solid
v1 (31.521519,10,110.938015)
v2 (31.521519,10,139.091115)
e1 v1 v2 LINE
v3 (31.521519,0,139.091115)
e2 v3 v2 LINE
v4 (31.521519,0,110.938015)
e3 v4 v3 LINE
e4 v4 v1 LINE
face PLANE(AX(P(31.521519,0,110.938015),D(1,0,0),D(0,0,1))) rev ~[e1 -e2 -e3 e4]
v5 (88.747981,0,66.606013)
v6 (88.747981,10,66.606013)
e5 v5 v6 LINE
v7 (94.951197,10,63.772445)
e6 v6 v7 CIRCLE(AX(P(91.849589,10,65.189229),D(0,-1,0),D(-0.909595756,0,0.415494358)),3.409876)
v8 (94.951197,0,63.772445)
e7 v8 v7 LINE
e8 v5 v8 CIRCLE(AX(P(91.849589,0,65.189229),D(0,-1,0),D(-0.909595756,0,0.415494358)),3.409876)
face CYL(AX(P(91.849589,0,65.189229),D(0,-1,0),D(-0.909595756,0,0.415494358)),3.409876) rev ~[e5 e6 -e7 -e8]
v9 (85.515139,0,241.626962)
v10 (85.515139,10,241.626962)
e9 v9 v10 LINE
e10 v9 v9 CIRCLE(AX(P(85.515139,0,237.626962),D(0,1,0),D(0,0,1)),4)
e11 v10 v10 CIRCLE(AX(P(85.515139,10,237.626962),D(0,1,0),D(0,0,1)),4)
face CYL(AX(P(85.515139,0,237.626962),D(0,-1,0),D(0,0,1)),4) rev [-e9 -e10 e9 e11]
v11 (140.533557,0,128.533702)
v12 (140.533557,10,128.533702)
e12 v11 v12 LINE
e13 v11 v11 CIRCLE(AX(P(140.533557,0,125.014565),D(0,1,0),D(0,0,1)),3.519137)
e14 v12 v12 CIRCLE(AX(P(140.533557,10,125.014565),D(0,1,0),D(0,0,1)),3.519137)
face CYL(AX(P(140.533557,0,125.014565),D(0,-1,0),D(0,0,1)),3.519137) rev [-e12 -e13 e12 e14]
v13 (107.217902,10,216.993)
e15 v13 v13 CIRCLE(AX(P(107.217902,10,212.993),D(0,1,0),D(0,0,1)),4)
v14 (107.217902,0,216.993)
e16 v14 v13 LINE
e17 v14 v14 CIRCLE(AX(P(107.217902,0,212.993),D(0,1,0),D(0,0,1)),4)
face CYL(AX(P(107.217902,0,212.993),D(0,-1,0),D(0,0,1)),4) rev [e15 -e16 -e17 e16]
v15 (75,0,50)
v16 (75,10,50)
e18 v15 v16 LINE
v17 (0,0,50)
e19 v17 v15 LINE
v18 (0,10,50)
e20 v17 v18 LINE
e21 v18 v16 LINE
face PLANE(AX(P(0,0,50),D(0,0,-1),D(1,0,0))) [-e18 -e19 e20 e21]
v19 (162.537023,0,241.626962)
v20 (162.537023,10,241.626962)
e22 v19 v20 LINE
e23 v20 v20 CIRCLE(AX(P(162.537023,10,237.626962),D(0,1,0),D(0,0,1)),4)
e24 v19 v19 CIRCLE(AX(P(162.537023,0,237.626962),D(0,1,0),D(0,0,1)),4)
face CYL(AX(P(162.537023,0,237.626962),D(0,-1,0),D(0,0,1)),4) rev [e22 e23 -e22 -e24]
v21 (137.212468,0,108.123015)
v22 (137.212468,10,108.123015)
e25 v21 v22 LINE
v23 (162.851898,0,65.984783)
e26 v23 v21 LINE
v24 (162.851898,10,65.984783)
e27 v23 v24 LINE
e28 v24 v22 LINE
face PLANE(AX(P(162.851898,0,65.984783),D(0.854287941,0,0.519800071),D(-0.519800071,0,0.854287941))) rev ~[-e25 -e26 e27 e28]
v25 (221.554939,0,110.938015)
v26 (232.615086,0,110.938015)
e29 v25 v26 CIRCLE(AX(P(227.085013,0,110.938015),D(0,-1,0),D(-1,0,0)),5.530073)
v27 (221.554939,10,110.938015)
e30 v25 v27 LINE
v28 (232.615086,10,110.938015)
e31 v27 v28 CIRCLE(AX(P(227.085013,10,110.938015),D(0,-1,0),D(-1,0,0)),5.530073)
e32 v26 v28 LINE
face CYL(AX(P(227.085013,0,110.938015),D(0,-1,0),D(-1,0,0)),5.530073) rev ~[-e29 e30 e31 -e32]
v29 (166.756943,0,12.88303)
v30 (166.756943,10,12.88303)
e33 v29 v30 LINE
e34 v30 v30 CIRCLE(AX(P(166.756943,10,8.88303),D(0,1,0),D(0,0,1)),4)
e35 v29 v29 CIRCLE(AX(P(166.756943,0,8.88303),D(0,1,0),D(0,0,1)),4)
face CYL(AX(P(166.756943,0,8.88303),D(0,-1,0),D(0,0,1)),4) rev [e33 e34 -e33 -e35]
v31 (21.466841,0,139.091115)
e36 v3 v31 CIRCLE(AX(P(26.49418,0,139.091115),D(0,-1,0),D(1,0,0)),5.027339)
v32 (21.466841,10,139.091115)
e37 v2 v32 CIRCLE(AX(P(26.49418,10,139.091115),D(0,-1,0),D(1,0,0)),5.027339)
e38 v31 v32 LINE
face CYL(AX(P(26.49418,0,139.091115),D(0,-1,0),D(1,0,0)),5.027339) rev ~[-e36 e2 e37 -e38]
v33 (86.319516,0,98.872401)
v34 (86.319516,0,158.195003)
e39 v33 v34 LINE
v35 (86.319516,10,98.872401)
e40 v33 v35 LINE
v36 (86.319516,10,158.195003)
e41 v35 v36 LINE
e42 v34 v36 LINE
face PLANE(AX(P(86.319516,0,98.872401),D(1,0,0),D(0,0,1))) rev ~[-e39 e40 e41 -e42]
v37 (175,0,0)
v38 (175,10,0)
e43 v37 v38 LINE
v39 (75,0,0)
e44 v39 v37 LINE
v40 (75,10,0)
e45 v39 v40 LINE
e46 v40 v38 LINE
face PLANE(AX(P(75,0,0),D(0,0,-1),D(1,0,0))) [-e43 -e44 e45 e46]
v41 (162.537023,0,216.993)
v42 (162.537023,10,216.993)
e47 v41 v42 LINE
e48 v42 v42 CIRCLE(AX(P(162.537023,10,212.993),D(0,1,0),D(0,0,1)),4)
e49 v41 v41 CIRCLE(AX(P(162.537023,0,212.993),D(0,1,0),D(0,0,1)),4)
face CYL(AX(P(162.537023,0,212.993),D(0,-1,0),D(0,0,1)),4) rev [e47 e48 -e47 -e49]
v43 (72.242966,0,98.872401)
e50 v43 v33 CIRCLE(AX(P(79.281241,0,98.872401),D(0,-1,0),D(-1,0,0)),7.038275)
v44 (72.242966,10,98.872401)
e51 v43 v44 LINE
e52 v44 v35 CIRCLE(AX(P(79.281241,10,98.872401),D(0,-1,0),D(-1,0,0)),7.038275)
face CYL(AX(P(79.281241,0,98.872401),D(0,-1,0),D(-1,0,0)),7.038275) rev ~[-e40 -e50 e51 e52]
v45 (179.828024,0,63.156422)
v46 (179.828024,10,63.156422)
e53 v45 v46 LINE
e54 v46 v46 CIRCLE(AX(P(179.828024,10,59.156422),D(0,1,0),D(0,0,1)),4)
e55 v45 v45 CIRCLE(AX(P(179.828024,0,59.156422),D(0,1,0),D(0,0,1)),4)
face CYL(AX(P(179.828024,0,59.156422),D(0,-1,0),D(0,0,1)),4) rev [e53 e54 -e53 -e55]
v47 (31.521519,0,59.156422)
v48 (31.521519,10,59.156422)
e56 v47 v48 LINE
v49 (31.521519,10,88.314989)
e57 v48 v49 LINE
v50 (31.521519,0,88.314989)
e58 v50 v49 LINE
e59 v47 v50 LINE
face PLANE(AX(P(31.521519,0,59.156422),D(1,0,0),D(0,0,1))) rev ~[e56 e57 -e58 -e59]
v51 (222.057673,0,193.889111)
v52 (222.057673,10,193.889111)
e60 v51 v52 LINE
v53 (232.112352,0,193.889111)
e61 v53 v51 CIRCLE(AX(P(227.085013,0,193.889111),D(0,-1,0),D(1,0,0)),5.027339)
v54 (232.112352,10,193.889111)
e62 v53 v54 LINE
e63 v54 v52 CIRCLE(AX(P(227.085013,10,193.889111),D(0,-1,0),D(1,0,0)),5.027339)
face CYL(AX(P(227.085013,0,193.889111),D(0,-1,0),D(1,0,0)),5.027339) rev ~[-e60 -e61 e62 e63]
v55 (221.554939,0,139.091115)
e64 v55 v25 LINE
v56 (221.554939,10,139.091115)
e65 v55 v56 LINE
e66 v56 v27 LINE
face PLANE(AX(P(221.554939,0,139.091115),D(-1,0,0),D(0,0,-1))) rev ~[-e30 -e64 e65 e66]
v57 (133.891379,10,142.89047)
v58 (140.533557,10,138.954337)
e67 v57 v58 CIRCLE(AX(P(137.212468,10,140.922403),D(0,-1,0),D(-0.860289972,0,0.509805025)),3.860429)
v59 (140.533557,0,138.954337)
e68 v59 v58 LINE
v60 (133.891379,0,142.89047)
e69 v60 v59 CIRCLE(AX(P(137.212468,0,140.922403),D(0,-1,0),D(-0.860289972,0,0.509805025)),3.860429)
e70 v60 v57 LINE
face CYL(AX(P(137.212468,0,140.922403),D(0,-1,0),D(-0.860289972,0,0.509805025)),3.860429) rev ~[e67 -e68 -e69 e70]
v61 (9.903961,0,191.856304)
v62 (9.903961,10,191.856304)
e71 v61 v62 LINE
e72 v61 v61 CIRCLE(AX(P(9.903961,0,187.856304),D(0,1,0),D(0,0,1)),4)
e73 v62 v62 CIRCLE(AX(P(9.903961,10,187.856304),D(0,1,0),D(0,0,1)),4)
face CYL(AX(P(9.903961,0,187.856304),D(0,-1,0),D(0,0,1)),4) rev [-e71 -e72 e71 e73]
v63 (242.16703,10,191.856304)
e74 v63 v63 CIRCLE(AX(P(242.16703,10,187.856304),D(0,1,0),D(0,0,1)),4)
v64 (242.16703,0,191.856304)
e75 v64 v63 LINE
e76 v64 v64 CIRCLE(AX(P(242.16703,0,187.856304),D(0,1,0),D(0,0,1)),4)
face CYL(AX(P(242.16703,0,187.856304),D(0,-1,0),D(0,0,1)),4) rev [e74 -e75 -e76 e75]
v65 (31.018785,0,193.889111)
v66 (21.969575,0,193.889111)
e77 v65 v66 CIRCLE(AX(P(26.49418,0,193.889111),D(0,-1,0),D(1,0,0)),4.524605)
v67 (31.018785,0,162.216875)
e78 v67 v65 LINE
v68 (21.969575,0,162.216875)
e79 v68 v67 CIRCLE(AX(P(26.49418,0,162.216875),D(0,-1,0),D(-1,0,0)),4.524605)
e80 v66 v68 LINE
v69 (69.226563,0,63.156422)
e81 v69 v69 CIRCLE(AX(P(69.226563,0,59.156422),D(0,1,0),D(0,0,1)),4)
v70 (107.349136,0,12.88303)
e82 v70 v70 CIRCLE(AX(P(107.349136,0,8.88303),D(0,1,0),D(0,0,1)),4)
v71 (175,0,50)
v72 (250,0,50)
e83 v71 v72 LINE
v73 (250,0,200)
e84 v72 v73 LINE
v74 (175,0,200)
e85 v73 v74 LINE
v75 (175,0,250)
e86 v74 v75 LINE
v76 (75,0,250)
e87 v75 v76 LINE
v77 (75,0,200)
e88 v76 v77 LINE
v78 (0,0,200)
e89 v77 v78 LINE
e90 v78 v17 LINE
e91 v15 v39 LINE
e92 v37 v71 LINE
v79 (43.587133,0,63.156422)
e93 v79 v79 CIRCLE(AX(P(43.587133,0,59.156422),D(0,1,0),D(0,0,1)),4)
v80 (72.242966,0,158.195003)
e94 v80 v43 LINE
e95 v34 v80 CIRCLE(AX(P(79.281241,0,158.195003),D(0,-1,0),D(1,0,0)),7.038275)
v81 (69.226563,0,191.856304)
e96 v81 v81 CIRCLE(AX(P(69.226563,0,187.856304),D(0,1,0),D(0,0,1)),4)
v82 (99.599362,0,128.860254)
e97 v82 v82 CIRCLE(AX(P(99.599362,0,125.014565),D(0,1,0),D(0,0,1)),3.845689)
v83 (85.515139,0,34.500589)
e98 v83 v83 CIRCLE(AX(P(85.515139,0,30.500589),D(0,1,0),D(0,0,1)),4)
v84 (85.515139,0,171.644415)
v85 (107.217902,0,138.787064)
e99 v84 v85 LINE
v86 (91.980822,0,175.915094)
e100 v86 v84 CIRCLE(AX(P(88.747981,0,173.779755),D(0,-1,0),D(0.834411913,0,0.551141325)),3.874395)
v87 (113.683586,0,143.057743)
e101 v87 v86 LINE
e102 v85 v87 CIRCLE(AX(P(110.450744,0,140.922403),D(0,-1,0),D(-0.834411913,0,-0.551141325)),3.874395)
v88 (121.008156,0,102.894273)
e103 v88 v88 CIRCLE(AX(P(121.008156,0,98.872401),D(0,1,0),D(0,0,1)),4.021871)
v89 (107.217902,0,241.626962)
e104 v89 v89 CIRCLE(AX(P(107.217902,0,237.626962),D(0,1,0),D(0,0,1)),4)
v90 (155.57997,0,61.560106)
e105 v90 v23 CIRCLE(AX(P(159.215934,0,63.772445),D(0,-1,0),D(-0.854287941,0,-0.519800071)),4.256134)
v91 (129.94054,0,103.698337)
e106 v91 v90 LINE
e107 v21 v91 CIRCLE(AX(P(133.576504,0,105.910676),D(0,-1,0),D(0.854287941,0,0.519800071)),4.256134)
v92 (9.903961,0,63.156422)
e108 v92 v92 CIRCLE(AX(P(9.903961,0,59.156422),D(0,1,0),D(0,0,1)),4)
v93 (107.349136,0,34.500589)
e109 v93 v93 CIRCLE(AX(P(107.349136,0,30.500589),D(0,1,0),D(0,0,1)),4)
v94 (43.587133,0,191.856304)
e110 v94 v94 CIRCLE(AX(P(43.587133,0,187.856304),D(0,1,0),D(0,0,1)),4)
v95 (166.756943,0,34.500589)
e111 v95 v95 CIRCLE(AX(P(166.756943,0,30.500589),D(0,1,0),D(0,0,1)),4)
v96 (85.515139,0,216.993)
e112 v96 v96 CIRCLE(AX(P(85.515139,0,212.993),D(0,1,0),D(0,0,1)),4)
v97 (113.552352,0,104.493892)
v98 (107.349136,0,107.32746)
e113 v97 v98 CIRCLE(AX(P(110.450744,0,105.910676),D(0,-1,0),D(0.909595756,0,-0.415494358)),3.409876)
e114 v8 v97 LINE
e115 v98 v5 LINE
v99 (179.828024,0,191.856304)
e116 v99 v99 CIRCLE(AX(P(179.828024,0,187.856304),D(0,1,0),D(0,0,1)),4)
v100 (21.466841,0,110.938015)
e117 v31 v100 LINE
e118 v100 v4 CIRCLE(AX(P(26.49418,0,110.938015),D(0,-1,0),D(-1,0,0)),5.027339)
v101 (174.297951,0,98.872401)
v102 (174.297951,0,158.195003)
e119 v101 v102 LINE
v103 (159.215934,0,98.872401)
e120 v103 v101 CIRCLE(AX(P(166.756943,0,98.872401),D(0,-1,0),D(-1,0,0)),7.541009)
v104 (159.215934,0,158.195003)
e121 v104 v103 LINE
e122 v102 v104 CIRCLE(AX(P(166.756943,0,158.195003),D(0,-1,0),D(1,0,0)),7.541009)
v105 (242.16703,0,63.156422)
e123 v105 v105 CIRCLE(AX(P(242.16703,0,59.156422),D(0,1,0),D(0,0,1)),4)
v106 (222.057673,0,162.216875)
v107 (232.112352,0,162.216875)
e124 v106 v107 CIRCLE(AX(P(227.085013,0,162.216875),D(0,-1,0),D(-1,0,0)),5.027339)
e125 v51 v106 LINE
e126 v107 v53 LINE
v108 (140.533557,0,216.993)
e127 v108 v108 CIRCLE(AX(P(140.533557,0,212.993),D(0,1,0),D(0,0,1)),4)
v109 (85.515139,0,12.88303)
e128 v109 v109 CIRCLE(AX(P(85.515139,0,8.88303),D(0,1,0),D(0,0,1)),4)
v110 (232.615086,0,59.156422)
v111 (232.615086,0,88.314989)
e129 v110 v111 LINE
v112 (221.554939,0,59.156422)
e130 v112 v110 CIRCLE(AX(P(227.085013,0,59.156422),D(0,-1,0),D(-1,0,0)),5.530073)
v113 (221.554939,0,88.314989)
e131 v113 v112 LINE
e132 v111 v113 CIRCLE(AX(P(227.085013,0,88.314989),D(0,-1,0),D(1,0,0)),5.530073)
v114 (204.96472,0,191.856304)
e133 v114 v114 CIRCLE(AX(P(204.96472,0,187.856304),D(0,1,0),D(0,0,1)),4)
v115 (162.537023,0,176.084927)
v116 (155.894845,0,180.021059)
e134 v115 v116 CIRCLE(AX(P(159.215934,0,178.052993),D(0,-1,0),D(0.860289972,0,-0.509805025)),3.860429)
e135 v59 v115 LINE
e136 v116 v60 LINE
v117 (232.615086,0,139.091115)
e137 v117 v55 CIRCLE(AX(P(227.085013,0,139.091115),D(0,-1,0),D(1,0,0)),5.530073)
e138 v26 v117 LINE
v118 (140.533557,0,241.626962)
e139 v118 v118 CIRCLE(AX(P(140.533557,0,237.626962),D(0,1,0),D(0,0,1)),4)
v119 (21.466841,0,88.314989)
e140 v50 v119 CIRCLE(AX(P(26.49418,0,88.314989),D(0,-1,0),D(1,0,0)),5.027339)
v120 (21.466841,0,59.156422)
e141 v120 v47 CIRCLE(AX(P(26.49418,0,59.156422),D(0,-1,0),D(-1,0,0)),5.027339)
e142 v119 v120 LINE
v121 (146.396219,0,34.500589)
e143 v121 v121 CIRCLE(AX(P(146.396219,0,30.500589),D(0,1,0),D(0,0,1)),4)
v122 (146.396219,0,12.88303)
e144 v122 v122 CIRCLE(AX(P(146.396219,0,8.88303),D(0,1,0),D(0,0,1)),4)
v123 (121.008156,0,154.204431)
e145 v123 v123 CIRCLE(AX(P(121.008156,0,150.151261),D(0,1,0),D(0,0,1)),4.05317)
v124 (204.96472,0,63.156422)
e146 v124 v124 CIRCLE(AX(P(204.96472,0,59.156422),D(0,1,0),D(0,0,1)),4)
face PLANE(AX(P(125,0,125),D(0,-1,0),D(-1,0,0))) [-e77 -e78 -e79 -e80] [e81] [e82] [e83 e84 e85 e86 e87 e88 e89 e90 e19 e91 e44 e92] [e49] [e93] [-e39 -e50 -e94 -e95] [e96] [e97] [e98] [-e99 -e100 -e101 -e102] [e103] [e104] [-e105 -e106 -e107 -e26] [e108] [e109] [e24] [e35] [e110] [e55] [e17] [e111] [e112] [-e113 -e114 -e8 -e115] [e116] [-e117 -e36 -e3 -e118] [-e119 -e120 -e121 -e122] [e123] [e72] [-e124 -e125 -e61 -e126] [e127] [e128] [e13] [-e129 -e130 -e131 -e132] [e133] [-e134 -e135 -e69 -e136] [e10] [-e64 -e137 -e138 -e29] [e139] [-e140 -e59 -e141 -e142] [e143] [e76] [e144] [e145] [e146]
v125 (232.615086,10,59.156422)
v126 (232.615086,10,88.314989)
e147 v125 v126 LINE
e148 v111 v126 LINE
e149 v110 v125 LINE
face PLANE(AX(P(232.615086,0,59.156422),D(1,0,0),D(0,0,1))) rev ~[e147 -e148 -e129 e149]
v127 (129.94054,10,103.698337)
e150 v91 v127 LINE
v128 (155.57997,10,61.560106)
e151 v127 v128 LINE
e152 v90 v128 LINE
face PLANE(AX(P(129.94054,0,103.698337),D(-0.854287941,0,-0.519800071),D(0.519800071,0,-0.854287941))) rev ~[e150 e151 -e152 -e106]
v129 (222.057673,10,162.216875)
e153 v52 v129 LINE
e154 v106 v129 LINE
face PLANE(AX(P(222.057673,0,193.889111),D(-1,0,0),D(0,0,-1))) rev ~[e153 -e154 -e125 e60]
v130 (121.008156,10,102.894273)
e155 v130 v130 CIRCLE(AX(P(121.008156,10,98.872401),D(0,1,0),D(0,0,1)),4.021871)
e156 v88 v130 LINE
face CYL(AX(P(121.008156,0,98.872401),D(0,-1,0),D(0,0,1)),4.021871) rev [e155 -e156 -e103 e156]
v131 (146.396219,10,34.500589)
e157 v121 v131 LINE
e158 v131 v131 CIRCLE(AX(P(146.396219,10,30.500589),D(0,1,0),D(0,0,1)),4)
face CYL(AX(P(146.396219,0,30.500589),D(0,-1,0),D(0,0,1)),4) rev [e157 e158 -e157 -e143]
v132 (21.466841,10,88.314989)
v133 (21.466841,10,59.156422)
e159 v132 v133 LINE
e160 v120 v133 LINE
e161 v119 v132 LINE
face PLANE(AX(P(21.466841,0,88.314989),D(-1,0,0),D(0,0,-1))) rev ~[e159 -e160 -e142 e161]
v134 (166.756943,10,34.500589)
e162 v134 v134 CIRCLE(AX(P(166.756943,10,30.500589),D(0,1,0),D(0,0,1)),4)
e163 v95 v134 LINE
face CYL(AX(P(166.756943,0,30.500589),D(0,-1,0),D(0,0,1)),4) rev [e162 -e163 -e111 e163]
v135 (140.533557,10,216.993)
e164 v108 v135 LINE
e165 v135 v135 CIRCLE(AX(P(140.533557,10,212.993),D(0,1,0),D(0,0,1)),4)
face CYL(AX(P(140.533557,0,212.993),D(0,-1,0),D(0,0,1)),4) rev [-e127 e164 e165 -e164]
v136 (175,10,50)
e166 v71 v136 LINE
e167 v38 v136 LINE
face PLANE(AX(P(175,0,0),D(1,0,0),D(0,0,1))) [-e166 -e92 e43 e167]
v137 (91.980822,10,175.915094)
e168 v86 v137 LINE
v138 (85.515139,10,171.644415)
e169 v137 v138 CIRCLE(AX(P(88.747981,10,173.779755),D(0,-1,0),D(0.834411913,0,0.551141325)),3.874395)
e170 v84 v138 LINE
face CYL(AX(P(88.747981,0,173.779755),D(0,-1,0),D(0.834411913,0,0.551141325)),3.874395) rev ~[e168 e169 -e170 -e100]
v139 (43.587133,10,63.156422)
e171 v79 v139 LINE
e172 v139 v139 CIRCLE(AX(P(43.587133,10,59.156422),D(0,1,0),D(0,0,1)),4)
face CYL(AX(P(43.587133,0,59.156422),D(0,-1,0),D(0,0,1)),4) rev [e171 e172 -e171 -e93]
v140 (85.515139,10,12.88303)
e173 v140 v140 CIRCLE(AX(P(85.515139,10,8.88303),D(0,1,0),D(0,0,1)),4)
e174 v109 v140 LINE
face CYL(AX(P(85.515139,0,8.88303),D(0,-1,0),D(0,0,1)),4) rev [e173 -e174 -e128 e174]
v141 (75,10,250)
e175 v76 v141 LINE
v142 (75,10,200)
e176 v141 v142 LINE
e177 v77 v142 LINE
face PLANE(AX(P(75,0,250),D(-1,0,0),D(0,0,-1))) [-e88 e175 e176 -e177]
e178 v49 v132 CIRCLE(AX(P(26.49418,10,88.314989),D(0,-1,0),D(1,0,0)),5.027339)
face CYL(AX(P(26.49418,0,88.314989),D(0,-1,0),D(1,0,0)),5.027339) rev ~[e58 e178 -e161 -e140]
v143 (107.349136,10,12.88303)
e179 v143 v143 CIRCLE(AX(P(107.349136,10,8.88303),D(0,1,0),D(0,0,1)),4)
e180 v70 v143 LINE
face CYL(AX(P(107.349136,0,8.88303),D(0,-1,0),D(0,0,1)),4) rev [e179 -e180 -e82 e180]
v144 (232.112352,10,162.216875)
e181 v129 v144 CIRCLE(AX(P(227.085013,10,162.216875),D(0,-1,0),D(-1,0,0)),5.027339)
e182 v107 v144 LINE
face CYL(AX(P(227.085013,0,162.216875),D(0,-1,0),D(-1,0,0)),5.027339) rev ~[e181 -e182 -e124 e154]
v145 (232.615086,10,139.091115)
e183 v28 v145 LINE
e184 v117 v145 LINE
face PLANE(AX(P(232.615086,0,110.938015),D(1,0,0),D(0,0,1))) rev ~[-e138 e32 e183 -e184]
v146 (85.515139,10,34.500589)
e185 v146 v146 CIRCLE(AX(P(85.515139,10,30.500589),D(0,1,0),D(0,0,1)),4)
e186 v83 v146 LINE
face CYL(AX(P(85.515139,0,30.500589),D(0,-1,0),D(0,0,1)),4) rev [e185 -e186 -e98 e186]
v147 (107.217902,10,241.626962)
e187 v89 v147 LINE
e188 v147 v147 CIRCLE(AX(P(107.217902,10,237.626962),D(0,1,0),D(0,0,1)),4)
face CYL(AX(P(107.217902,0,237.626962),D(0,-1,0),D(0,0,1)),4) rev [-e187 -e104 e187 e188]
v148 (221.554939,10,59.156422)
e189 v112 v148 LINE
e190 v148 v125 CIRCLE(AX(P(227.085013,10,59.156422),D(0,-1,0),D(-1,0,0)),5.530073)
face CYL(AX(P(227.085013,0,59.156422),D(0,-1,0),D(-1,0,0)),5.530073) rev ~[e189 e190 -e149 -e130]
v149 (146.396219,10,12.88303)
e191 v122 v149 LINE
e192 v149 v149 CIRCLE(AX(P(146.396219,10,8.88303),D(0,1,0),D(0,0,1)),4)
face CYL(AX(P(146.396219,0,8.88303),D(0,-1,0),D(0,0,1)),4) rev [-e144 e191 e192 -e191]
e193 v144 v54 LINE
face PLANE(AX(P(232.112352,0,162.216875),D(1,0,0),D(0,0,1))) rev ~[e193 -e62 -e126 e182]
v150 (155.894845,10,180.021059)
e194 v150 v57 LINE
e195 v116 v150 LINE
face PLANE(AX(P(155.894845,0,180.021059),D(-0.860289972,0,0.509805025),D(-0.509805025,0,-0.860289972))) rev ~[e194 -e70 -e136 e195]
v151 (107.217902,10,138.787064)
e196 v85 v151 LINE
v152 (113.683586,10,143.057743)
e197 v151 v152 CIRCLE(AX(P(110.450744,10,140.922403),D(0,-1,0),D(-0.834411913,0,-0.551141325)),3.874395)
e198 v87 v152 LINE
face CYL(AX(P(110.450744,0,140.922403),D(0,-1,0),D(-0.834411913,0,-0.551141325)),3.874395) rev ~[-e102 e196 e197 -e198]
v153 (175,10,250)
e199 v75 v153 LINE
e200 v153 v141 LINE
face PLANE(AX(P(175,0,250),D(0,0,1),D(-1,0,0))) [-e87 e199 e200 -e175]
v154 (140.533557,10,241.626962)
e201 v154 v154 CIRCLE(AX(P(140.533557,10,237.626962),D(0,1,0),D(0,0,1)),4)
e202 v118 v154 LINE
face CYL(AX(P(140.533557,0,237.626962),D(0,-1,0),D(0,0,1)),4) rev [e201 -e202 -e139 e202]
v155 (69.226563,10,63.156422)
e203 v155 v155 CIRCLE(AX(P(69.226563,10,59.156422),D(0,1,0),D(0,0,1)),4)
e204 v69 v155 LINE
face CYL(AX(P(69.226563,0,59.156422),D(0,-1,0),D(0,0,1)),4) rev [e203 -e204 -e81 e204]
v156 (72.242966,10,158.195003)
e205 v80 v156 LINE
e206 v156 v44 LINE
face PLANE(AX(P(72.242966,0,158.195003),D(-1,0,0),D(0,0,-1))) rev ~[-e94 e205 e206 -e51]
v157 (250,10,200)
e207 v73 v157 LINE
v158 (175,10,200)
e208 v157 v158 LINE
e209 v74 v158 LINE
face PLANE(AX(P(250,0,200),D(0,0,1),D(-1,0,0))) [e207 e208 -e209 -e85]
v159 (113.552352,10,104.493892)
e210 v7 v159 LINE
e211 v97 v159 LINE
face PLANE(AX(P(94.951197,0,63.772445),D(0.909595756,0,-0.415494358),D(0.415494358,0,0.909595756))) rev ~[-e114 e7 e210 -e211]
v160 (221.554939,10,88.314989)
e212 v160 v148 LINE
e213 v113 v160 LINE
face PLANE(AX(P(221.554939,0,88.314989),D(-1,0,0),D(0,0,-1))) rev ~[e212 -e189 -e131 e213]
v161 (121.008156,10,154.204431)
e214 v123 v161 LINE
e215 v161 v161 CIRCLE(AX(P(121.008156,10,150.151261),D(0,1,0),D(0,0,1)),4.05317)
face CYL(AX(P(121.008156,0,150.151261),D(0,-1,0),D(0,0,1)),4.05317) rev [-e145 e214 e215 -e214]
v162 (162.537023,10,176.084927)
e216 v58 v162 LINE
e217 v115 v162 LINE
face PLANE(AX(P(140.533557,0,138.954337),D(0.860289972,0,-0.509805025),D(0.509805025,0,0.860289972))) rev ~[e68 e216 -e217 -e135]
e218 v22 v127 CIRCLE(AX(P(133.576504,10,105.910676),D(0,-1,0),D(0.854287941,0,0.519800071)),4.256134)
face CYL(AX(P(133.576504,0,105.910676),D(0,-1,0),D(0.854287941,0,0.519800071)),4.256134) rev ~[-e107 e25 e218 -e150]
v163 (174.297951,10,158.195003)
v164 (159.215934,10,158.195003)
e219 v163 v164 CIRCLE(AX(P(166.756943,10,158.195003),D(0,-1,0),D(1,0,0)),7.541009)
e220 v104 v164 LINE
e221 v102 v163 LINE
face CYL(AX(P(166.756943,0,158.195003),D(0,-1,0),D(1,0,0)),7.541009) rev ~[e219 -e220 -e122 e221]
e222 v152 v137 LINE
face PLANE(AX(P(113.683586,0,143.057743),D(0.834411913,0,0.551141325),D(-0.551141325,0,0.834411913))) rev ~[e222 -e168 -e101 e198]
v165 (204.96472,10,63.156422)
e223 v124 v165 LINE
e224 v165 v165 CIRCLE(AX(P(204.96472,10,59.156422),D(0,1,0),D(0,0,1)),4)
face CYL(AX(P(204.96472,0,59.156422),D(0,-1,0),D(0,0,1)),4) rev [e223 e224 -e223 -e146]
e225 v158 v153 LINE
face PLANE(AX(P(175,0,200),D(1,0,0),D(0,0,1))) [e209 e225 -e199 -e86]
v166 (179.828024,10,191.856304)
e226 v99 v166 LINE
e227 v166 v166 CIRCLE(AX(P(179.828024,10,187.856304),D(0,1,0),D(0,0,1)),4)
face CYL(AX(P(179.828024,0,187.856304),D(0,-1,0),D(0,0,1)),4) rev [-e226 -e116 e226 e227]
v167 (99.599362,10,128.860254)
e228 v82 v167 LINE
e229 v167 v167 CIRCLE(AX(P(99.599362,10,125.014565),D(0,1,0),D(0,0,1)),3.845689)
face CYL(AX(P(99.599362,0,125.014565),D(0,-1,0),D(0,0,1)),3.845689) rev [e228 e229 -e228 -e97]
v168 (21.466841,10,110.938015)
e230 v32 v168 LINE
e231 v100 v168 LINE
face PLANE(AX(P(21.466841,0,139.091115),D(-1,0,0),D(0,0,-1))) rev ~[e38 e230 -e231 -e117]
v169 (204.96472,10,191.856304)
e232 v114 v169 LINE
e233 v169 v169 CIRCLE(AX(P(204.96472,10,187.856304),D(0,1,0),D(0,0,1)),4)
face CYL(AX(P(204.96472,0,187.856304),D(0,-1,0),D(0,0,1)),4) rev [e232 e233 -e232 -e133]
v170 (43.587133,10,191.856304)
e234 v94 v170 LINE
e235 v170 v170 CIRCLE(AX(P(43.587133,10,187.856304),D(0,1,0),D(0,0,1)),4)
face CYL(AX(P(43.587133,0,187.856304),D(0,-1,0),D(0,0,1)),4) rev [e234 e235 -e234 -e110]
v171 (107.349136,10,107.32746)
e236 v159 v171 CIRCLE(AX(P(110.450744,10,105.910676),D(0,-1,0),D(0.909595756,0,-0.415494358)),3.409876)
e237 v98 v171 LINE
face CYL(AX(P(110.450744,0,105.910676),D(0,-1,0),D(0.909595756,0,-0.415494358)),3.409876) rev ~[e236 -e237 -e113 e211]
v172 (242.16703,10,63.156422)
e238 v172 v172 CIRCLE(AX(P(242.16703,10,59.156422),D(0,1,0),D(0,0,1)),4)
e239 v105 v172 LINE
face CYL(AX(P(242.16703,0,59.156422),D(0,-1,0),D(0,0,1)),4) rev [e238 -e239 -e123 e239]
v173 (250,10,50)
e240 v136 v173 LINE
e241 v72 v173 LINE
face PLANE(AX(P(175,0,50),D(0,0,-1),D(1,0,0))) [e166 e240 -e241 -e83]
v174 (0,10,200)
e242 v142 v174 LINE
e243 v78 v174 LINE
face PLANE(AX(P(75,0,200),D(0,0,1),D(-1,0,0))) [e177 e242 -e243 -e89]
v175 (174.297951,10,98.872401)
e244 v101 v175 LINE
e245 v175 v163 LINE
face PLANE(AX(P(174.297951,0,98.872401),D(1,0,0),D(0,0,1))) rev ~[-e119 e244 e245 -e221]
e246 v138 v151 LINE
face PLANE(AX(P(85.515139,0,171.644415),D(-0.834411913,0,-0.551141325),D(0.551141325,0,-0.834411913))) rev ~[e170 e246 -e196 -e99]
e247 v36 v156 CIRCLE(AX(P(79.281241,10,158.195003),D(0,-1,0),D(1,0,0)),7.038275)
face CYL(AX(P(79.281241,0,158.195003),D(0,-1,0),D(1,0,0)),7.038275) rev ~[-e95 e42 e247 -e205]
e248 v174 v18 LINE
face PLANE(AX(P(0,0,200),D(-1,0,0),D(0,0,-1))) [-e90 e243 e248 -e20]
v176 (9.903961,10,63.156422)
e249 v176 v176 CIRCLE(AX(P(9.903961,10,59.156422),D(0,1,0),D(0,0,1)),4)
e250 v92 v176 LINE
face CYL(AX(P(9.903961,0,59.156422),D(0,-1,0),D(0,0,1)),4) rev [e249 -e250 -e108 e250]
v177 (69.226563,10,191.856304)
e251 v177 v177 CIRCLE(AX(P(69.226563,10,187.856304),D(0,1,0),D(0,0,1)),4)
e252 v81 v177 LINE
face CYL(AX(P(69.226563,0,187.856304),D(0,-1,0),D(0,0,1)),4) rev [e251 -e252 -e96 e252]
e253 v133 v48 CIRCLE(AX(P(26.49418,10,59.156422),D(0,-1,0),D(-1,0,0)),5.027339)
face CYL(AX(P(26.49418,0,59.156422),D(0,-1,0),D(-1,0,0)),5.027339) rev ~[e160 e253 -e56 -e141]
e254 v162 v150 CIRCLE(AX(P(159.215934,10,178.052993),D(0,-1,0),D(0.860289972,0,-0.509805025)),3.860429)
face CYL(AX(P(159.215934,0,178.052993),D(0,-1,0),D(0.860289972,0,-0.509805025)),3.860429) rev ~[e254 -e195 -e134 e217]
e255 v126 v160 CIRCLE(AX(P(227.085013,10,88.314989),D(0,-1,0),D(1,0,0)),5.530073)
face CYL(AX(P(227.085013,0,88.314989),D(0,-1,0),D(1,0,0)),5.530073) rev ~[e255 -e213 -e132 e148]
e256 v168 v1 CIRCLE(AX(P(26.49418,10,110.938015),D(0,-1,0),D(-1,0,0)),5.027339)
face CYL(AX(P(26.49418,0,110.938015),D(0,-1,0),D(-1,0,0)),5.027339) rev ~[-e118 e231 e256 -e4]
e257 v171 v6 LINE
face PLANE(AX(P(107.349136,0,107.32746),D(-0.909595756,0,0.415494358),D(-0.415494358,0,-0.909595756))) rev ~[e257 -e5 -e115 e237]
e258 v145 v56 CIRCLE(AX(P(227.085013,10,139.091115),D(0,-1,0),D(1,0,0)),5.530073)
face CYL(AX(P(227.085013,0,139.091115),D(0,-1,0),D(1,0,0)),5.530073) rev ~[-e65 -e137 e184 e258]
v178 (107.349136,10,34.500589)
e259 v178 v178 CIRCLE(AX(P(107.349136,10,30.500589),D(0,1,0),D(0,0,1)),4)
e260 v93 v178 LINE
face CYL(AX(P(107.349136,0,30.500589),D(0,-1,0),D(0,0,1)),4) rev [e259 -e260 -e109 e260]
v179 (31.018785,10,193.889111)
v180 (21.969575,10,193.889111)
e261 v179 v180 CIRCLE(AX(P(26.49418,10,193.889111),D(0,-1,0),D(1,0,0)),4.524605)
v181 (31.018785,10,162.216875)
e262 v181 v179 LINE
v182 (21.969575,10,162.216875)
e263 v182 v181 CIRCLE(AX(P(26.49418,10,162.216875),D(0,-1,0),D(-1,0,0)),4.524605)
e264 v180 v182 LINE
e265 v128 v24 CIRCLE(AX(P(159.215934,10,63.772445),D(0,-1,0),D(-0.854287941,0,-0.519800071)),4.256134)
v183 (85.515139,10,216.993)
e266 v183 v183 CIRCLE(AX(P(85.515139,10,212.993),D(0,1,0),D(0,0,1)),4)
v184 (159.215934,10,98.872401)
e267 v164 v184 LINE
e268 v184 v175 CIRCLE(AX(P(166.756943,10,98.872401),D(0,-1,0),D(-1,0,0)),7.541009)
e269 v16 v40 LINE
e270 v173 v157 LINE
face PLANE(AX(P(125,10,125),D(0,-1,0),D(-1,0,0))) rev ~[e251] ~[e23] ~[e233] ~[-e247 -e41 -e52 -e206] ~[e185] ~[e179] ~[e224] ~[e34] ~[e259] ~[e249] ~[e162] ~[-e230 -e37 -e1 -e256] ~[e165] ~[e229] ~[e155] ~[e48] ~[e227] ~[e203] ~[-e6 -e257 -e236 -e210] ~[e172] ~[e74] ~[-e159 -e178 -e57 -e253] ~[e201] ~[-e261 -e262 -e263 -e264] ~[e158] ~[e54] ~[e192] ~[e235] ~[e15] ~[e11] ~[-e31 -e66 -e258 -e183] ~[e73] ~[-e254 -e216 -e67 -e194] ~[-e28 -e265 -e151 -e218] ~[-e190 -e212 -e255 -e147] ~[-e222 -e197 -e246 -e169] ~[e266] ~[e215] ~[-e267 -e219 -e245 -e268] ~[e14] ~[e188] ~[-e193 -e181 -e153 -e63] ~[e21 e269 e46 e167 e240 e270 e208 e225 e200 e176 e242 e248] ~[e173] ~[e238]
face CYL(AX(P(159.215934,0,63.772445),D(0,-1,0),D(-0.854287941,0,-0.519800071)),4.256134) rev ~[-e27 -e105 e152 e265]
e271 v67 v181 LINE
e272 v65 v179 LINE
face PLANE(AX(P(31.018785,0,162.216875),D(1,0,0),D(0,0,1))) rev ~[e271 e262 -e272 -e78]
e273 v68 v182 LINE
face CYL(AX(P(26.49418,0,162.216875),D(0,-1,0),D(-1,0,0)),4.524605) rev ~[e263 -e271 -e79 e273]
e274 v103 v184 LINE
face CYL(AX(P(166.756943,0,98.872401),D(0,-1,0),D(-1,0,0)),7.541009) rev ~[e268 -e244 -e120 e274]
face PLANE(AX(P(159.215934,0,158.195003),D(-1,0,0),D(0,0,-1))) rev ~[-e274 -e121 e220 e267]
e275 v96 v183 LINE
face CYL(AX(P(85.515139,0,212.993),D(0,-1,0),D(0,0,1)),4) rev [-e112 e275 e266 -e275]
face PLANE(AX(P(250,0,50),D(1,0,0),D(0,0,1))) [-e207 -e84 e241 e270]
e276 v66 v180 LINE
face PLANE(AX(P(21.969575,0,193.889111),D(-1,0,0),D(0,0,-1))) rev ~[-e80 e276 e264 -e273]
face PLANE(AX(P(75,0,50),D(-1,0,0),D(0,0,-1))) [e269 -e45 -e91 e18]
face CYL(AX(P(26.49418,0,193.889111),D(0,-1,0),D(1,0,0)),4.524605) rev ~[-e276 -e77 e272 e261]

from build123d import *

# Parameters (mm, degrees)
SKETCH_1_R      = 3.519137415
SKETCH_1_R_2    = 4.021871331
SKETCH_1_R_3    = 4.053170413
SKETCH_1_R_4    = 3.845688718
SKETCH_1_R_5    = 4
EXTRUDE_1_DEPTH = 10


with BuildPart() as part:
    # 草图1 → 凸台-拉伸1 (new body)
    with BuildSketch(Plane(origin=(0, 0, 0), x_dir=(1, 0, 0), z_dir=(0, 1, 0))):
        Polygon((0, -50), (75, -50), (75, 0), (175, 0), (175, -50), (250, -50), (250, -200), (175, -200), (175, -250), (75, -250), (75, -200), (0, -200), align=None)
        with Locations(Location((140.533556543, -125.014564911, 0), (0, 0, 270))):
            Circle(SKETCH_1_R, mode=Mode.SUBTRACT)
        with Locations(Location((121.008156214, -98.872401259, 0), (0, 0, 270))):
            Circle(SKETCH_1_R_2, mode=Mode.SUBTRACT)
        with Locations(Location((121.008156214, -150.151260731, 0), (0, 0, 270))):
            Circle(SKETCH_1_R_3, mode=Mode.SUBTRACT)
        with Locations(Location((99.599362347, -125.014564911, 0), (0, 0, 270))):
            Circle(SKETCH_1_R_4, mode=Mode.SUBTRACT)
        with Locations(Location((85.515139111, -8.883030225, 0), (0, 0, 270))):
            Circle(SKETCH_1_R_5, mode=Mode.SUBTRACT)
        with Locations(Location((85.515139111, -30.50058863, 0), (0, 0, 270))):
            Circle(SKETCH_1_R_5, mode=Mode.SUBTRACT)
        with Locations(Location((107.349135631, -8.883030225, 0), (0, 0, 270))):
            Circle(SKETCH_1_R_5, mode=Mode.SUBTRACT)
        with Locations(Location((107.349135631, -30.50058863, 0), (0, 0, 270))):
            Circle(SKETCH_1_R_5, mode=Mode.SUBTRACT)
        with Locations(Location((146.396218991, -8.883030225, 0), (0, 0, 270))):
            Circle(SKETCH_1_R_5, mode=Mode.SUBTRACT)
        with Locations(Location((166.756942605, -8.883030225, 0), (0, 0, 270))):
            Circle(SKETCH_1_R_5, mode=Mode.SUBTRACT)
        with Locations(Location((146.396218991, -30.50058863, 0), (0, 0, 270))):
            Circle(SKETCH_1_R_5, mode=Mode.SUBTRACT)
        with Locations(Location((166.756942605, -30.50058863, 0), (0, 0, 270))):
            Circle(SKETCH_1_R_5, mode=Mode.SUBTRACT)
        with Locations(Location((85.515139111, -237.626962183, 0), (0, 0, 270))):
            Circle(SKETCH_1_R_5, mode=Mode.SUBTRACT)
        with Locations(Location((85.515139111, -212.99300028, 0), (0, 0, 270))):
            Circle(SKETCH_1_R_5, mode=Mode.SUBTRACT)
        with Locations(Location((107.217902356, -212.99300028, 0), (0, 0, 270))):
            Circle(SKETCH_1_R_5, mode=Mode.SUBTRACT)
        with Locations(Location((107.217902356, -237.626962183, 0), (0, 0, 270))):
            Circle(SKETCH_1_R_5, mode=Mode.SUBTRACT)
        with Locations(Location((162.537022604, -212.99300028, 0), (0, 0, 270))):
            Circle(SKETCH_1_R_5, mode=Mode.SUBTRACT)
        with Locations(Location((162.537022604, -237.626962183, 0), (0, 0, 270))):
            Circle(SKETCH_1_R_5, mode=Mode.SUBTRACT)
        with Locations(Location((140.533556543, -212.99300028, 0), (0, 0, 270))):
            Circle(SKETCH_1_R_5, mode=Mode.SUBTRACT)
        with Locations(Location((140.533556543, -237.626962183, 0), (0, 0, 270))):
            Circle(SKETCH_1_R_5, mode=Mode.SUBTRACT)
        with Locations(Location((9.903960691, -59.156421864, 0), (0, 0, 270))):
            Circle(SKETCH_1_R_5, mode=Mode.SUBTRACT)
        with Locations(Location((242.167030064, -59.156421864, 0), (0, 0, 270))):
            Circle(SKETCH_1_R_5, mode=Mode.SUBTRACT)
        with Locations(Location((242.167030064, -187.85630446, 0), (0, 0, 270))):
            Circle(SKETCH_1_R_5, mode=Mode.SUBTRACT)
        with Locations(Location((204.964720251, -59.156421864, 0), (0, 0, 270))):
            Circle(SKETCH_1_R_5, mode=Mode.SUBTRACT)
        with Locations(Location((204.964720251, -187.85630446, 0), (0, 0, 270))):
            Circle(SKETCH_1_R_5, mode=Mode.SUBTRACT)
        with Locations(Location((9.903960691, -187.85630446, 0), (0, 0, 270))):
            Circle(SKETCH_1_R_5, mode=Mode.SUBTRACT)
        with Locations(Location((43.587133089, -59.156421864, 0), (0, 0, 270))):
            Circle(SKETCH_1_R_5, mode=Mode.SUBTRACT)
        with Locations(Location((43.587133089, -187.85630446, 0), (0, 0, 270))):
            Circle(SKETCH_1_R_5, mode=Mode.SUBTRACT)
        with Locations(Location((69.226562825, -59.156421864, 0), (0, 0, 270))):
            Circle(SKETCH_1_R_5, mode=Mode.SUBTRACT)
        with Locations(Location((69.226562825, -187.85630446, 0), (0, 0, 270))):
            Circle(SKETCH_1_R_5, mode=Mode.SUBTRACT)
        with Locations(Location((179.828024432, -59.156421864, 0), (0, 0, 270))):
            Circle(SKETCH_1_R_5, mode=Mode.SUBTRACT)
        with Locations(Location((179.828024432, -187.85630446, 0), (0, 0, 270))):
            Circle(SKETCH_1_R_5, mode=Mode.SUBTRACT)
        with BuildLine():
            Line((31.521519096, -110.938015252), (31.521519096, -139.09111457))
            ThreePointArc((31.521519096, -139.09111457), (26.494179932, -144.118453734), (21.466840768, -139.09111457))
            Line((21.466840768, -139.09111457), (21.466840768, -110.938015252))
            ThreePointArc((21.466840768, -110.938015252), (26.494179932, -105.910676088), (31.521519096, -110.938015252))
        make_face(mode=Mode.SUBTRACT)
        with BuildLine():
            Line((31.521519096, -59.156421864), (31.521519096, -88.314989015))
            ThreePointArc((31.521519096, -88.314989015), (26.494179932, -93.342328179), (21.466840768, -88.314989015))
            Line((21.466840768, -88.314989015), (21.466840768, -59.156421864))
            ThreePointArc((21.466840768, -59.156421864), (26.494179932, -54.1290827), (31.521519096, -59.156421864))
        make_face(mode=Mode.SUBTRACT)
        with BuildLine():
            Line((21.969574685, -193.889111457), (21.969574685, -162.216874724))
            ThreePointArc((21.969574685, -162.216874724), (26.494179932, -157.692269477), (31.01878518, -162.216874724))
            Line((31.01878518, -162.216874724), (31.01878518, -193.889111457))
            ThreePointArc((31.01878518, -193.889111457), (26.494179932, -198.413716704), (21.969574685, -193.889111457))
        make_face(mode=Mode.SUBTRACT)
        with BuildLine():
            Line((232.615085653, -59.156421864), (232.615085653, -88.314989015))
            ThreePointArc((232.615085653, -88.314989015), (227.085012572, -93.845062095), (221.554939492, -88.314989015))
            Line((221.554939492, -88.314989015), (221.554939492, -59.156421864))
            ThreePointArc((221.554939492, -59.156421864), (227.085012572, -53.626348784), (232.615085653, -59.156421864))
        make_face(mode=Mode.SUBTRACT)
        with BuildLine():
            Line((232.615085653, -110.938015252), (232.615085653, -139.09111457))
            ThreePointArc((232.615085653, -139.09111457), (227.085012572, -144.621187651), (221.554939492, -139.09111457))
            Line((221.554939492, -139.09111457), (221.554939492, -110.938015252))
            ThreePointArc((221.554939492, -110.938015252), (227.085012572, -105.407942172), (232.615085653, -110.938015252))
        make_face(mode=Mode.SUBTRACT)
        with BuildLine():
            Line((232.112351736, -162.216874724), (232.112351736, -193.889111457))
            ThreePointArc((232.112351736, -193.889111457), (227.085012572, -198.916450621), (222.057673408, -193.889111457))
            Line((222.057673408, -193.889111457), (222.057673408, -162.216874724))
            ThreePointArc((222.057673408, -162.216874724), (227.085012572, -157.18953556), (232.112351736, -162.216874724))
        make_face(mode=Mode.SUBTRACT)
        with BuildLine():
            Line((86.319515983, -98.872401259), (86.319515983, -158.195003393))
            ThreePointArc((86.319515983, -158.195003393), (79.281241153, -165.233278223), (72.242966324, -158.195003393))
            Line((72.242966324, -158.195003393), (72.242966324, -98.872401259))
            ThreePointArc((72.242966324, -98.872401259), (79.281241153, -91.834126429), (86.319515983, -98.872401259))
        make_face(mode=Mode.SUBTRACT)
        with BuildLine():
            Line((174.297951351, -98.872401259), (174.297951351, -158.195003393))
            ThreePointArc((174.297951351, -158.195003393), (166.756942605, -165.736012139), (159.215933859, -158.195003393))
            Line((159.215933859, -158.195003393), (159.215933859, -98.872401259))
            ThreePointArc((159.215933859, -98.872401259), (166.756942605, -91.331392513), (174.297951351, -98.872401259))
        make_face(mode=Mode.SUBTRACT)
        with BuildLine():
            Line((94.951197402, -63.772444805), (113.552352308, -104.493892032))
            ThreePointArc((113.552352308, -104.493892032), (111.867528025, -109.012284427), (107.349135631, -107.327460144))
            Line((107.349135631, -107.327460144), (88.747980724, -66.606012917))
            ThreePointArc((88.747980724, -66.606012917), (90.432805007, -62.087620522), (94.951197402, -63.772444805))
        make_face(mode=Mode.SUBTRACT)
        with BuildLine():
            Line((162.851897535, -65.984783395), (137.212467799, -108.123014678))
            ThreePointArc((137.212467799, -108.123014678), (131.364165534, -109.546639764), (129.940540448, -103.698337499))
            Line((129.940540448, -103.698337499), (155.579970184, -61.560106215))
            ThreePointArc((155.579970184, -61.560106215), (161.428272449, -60.136481129), (162.851897535, -65.984783395))
        make_face(mode=Mode.SUBTRACT)
        with BuildLine():
            Line((85.515139111, -171.644415429), (107.217902356, -138.787064009))
            ThreePointArc((107.217902356, -138.787064009), (112.586083341, -137.689561768), (113.683585583, -143.057742753))
            Line((113.683585583, -143.057742753), (91.980822338, -175.915094173))
            ThreePointArc((91.980822338, -175.915094173), (86.612641352, -177.012596415), (85.515139111, -171.644415429))
        make_face(mode=Mode.SUBTRACT)
        with BuildLine():
            Line((140.533556543, -138.95433705), (162.537022604, -176.084926759))
            ThreePointArc((162.537022604, -176.084926759), (161.184000191, -181.374081835), (155.894845115, -180.021059422))
            Line((155.894845115, -180.021059422), (133.891379055, -142.890469712))
            ThreePointArc((133.891379055, -142.890469712), (135.244401467, -137.601314637), (140.533556543, -138.95433705))
        make_face(mode=Mode.SUBTRACT)
    extrude(amount=EXTRUDE_1_DEPTH)


solid = part.part
